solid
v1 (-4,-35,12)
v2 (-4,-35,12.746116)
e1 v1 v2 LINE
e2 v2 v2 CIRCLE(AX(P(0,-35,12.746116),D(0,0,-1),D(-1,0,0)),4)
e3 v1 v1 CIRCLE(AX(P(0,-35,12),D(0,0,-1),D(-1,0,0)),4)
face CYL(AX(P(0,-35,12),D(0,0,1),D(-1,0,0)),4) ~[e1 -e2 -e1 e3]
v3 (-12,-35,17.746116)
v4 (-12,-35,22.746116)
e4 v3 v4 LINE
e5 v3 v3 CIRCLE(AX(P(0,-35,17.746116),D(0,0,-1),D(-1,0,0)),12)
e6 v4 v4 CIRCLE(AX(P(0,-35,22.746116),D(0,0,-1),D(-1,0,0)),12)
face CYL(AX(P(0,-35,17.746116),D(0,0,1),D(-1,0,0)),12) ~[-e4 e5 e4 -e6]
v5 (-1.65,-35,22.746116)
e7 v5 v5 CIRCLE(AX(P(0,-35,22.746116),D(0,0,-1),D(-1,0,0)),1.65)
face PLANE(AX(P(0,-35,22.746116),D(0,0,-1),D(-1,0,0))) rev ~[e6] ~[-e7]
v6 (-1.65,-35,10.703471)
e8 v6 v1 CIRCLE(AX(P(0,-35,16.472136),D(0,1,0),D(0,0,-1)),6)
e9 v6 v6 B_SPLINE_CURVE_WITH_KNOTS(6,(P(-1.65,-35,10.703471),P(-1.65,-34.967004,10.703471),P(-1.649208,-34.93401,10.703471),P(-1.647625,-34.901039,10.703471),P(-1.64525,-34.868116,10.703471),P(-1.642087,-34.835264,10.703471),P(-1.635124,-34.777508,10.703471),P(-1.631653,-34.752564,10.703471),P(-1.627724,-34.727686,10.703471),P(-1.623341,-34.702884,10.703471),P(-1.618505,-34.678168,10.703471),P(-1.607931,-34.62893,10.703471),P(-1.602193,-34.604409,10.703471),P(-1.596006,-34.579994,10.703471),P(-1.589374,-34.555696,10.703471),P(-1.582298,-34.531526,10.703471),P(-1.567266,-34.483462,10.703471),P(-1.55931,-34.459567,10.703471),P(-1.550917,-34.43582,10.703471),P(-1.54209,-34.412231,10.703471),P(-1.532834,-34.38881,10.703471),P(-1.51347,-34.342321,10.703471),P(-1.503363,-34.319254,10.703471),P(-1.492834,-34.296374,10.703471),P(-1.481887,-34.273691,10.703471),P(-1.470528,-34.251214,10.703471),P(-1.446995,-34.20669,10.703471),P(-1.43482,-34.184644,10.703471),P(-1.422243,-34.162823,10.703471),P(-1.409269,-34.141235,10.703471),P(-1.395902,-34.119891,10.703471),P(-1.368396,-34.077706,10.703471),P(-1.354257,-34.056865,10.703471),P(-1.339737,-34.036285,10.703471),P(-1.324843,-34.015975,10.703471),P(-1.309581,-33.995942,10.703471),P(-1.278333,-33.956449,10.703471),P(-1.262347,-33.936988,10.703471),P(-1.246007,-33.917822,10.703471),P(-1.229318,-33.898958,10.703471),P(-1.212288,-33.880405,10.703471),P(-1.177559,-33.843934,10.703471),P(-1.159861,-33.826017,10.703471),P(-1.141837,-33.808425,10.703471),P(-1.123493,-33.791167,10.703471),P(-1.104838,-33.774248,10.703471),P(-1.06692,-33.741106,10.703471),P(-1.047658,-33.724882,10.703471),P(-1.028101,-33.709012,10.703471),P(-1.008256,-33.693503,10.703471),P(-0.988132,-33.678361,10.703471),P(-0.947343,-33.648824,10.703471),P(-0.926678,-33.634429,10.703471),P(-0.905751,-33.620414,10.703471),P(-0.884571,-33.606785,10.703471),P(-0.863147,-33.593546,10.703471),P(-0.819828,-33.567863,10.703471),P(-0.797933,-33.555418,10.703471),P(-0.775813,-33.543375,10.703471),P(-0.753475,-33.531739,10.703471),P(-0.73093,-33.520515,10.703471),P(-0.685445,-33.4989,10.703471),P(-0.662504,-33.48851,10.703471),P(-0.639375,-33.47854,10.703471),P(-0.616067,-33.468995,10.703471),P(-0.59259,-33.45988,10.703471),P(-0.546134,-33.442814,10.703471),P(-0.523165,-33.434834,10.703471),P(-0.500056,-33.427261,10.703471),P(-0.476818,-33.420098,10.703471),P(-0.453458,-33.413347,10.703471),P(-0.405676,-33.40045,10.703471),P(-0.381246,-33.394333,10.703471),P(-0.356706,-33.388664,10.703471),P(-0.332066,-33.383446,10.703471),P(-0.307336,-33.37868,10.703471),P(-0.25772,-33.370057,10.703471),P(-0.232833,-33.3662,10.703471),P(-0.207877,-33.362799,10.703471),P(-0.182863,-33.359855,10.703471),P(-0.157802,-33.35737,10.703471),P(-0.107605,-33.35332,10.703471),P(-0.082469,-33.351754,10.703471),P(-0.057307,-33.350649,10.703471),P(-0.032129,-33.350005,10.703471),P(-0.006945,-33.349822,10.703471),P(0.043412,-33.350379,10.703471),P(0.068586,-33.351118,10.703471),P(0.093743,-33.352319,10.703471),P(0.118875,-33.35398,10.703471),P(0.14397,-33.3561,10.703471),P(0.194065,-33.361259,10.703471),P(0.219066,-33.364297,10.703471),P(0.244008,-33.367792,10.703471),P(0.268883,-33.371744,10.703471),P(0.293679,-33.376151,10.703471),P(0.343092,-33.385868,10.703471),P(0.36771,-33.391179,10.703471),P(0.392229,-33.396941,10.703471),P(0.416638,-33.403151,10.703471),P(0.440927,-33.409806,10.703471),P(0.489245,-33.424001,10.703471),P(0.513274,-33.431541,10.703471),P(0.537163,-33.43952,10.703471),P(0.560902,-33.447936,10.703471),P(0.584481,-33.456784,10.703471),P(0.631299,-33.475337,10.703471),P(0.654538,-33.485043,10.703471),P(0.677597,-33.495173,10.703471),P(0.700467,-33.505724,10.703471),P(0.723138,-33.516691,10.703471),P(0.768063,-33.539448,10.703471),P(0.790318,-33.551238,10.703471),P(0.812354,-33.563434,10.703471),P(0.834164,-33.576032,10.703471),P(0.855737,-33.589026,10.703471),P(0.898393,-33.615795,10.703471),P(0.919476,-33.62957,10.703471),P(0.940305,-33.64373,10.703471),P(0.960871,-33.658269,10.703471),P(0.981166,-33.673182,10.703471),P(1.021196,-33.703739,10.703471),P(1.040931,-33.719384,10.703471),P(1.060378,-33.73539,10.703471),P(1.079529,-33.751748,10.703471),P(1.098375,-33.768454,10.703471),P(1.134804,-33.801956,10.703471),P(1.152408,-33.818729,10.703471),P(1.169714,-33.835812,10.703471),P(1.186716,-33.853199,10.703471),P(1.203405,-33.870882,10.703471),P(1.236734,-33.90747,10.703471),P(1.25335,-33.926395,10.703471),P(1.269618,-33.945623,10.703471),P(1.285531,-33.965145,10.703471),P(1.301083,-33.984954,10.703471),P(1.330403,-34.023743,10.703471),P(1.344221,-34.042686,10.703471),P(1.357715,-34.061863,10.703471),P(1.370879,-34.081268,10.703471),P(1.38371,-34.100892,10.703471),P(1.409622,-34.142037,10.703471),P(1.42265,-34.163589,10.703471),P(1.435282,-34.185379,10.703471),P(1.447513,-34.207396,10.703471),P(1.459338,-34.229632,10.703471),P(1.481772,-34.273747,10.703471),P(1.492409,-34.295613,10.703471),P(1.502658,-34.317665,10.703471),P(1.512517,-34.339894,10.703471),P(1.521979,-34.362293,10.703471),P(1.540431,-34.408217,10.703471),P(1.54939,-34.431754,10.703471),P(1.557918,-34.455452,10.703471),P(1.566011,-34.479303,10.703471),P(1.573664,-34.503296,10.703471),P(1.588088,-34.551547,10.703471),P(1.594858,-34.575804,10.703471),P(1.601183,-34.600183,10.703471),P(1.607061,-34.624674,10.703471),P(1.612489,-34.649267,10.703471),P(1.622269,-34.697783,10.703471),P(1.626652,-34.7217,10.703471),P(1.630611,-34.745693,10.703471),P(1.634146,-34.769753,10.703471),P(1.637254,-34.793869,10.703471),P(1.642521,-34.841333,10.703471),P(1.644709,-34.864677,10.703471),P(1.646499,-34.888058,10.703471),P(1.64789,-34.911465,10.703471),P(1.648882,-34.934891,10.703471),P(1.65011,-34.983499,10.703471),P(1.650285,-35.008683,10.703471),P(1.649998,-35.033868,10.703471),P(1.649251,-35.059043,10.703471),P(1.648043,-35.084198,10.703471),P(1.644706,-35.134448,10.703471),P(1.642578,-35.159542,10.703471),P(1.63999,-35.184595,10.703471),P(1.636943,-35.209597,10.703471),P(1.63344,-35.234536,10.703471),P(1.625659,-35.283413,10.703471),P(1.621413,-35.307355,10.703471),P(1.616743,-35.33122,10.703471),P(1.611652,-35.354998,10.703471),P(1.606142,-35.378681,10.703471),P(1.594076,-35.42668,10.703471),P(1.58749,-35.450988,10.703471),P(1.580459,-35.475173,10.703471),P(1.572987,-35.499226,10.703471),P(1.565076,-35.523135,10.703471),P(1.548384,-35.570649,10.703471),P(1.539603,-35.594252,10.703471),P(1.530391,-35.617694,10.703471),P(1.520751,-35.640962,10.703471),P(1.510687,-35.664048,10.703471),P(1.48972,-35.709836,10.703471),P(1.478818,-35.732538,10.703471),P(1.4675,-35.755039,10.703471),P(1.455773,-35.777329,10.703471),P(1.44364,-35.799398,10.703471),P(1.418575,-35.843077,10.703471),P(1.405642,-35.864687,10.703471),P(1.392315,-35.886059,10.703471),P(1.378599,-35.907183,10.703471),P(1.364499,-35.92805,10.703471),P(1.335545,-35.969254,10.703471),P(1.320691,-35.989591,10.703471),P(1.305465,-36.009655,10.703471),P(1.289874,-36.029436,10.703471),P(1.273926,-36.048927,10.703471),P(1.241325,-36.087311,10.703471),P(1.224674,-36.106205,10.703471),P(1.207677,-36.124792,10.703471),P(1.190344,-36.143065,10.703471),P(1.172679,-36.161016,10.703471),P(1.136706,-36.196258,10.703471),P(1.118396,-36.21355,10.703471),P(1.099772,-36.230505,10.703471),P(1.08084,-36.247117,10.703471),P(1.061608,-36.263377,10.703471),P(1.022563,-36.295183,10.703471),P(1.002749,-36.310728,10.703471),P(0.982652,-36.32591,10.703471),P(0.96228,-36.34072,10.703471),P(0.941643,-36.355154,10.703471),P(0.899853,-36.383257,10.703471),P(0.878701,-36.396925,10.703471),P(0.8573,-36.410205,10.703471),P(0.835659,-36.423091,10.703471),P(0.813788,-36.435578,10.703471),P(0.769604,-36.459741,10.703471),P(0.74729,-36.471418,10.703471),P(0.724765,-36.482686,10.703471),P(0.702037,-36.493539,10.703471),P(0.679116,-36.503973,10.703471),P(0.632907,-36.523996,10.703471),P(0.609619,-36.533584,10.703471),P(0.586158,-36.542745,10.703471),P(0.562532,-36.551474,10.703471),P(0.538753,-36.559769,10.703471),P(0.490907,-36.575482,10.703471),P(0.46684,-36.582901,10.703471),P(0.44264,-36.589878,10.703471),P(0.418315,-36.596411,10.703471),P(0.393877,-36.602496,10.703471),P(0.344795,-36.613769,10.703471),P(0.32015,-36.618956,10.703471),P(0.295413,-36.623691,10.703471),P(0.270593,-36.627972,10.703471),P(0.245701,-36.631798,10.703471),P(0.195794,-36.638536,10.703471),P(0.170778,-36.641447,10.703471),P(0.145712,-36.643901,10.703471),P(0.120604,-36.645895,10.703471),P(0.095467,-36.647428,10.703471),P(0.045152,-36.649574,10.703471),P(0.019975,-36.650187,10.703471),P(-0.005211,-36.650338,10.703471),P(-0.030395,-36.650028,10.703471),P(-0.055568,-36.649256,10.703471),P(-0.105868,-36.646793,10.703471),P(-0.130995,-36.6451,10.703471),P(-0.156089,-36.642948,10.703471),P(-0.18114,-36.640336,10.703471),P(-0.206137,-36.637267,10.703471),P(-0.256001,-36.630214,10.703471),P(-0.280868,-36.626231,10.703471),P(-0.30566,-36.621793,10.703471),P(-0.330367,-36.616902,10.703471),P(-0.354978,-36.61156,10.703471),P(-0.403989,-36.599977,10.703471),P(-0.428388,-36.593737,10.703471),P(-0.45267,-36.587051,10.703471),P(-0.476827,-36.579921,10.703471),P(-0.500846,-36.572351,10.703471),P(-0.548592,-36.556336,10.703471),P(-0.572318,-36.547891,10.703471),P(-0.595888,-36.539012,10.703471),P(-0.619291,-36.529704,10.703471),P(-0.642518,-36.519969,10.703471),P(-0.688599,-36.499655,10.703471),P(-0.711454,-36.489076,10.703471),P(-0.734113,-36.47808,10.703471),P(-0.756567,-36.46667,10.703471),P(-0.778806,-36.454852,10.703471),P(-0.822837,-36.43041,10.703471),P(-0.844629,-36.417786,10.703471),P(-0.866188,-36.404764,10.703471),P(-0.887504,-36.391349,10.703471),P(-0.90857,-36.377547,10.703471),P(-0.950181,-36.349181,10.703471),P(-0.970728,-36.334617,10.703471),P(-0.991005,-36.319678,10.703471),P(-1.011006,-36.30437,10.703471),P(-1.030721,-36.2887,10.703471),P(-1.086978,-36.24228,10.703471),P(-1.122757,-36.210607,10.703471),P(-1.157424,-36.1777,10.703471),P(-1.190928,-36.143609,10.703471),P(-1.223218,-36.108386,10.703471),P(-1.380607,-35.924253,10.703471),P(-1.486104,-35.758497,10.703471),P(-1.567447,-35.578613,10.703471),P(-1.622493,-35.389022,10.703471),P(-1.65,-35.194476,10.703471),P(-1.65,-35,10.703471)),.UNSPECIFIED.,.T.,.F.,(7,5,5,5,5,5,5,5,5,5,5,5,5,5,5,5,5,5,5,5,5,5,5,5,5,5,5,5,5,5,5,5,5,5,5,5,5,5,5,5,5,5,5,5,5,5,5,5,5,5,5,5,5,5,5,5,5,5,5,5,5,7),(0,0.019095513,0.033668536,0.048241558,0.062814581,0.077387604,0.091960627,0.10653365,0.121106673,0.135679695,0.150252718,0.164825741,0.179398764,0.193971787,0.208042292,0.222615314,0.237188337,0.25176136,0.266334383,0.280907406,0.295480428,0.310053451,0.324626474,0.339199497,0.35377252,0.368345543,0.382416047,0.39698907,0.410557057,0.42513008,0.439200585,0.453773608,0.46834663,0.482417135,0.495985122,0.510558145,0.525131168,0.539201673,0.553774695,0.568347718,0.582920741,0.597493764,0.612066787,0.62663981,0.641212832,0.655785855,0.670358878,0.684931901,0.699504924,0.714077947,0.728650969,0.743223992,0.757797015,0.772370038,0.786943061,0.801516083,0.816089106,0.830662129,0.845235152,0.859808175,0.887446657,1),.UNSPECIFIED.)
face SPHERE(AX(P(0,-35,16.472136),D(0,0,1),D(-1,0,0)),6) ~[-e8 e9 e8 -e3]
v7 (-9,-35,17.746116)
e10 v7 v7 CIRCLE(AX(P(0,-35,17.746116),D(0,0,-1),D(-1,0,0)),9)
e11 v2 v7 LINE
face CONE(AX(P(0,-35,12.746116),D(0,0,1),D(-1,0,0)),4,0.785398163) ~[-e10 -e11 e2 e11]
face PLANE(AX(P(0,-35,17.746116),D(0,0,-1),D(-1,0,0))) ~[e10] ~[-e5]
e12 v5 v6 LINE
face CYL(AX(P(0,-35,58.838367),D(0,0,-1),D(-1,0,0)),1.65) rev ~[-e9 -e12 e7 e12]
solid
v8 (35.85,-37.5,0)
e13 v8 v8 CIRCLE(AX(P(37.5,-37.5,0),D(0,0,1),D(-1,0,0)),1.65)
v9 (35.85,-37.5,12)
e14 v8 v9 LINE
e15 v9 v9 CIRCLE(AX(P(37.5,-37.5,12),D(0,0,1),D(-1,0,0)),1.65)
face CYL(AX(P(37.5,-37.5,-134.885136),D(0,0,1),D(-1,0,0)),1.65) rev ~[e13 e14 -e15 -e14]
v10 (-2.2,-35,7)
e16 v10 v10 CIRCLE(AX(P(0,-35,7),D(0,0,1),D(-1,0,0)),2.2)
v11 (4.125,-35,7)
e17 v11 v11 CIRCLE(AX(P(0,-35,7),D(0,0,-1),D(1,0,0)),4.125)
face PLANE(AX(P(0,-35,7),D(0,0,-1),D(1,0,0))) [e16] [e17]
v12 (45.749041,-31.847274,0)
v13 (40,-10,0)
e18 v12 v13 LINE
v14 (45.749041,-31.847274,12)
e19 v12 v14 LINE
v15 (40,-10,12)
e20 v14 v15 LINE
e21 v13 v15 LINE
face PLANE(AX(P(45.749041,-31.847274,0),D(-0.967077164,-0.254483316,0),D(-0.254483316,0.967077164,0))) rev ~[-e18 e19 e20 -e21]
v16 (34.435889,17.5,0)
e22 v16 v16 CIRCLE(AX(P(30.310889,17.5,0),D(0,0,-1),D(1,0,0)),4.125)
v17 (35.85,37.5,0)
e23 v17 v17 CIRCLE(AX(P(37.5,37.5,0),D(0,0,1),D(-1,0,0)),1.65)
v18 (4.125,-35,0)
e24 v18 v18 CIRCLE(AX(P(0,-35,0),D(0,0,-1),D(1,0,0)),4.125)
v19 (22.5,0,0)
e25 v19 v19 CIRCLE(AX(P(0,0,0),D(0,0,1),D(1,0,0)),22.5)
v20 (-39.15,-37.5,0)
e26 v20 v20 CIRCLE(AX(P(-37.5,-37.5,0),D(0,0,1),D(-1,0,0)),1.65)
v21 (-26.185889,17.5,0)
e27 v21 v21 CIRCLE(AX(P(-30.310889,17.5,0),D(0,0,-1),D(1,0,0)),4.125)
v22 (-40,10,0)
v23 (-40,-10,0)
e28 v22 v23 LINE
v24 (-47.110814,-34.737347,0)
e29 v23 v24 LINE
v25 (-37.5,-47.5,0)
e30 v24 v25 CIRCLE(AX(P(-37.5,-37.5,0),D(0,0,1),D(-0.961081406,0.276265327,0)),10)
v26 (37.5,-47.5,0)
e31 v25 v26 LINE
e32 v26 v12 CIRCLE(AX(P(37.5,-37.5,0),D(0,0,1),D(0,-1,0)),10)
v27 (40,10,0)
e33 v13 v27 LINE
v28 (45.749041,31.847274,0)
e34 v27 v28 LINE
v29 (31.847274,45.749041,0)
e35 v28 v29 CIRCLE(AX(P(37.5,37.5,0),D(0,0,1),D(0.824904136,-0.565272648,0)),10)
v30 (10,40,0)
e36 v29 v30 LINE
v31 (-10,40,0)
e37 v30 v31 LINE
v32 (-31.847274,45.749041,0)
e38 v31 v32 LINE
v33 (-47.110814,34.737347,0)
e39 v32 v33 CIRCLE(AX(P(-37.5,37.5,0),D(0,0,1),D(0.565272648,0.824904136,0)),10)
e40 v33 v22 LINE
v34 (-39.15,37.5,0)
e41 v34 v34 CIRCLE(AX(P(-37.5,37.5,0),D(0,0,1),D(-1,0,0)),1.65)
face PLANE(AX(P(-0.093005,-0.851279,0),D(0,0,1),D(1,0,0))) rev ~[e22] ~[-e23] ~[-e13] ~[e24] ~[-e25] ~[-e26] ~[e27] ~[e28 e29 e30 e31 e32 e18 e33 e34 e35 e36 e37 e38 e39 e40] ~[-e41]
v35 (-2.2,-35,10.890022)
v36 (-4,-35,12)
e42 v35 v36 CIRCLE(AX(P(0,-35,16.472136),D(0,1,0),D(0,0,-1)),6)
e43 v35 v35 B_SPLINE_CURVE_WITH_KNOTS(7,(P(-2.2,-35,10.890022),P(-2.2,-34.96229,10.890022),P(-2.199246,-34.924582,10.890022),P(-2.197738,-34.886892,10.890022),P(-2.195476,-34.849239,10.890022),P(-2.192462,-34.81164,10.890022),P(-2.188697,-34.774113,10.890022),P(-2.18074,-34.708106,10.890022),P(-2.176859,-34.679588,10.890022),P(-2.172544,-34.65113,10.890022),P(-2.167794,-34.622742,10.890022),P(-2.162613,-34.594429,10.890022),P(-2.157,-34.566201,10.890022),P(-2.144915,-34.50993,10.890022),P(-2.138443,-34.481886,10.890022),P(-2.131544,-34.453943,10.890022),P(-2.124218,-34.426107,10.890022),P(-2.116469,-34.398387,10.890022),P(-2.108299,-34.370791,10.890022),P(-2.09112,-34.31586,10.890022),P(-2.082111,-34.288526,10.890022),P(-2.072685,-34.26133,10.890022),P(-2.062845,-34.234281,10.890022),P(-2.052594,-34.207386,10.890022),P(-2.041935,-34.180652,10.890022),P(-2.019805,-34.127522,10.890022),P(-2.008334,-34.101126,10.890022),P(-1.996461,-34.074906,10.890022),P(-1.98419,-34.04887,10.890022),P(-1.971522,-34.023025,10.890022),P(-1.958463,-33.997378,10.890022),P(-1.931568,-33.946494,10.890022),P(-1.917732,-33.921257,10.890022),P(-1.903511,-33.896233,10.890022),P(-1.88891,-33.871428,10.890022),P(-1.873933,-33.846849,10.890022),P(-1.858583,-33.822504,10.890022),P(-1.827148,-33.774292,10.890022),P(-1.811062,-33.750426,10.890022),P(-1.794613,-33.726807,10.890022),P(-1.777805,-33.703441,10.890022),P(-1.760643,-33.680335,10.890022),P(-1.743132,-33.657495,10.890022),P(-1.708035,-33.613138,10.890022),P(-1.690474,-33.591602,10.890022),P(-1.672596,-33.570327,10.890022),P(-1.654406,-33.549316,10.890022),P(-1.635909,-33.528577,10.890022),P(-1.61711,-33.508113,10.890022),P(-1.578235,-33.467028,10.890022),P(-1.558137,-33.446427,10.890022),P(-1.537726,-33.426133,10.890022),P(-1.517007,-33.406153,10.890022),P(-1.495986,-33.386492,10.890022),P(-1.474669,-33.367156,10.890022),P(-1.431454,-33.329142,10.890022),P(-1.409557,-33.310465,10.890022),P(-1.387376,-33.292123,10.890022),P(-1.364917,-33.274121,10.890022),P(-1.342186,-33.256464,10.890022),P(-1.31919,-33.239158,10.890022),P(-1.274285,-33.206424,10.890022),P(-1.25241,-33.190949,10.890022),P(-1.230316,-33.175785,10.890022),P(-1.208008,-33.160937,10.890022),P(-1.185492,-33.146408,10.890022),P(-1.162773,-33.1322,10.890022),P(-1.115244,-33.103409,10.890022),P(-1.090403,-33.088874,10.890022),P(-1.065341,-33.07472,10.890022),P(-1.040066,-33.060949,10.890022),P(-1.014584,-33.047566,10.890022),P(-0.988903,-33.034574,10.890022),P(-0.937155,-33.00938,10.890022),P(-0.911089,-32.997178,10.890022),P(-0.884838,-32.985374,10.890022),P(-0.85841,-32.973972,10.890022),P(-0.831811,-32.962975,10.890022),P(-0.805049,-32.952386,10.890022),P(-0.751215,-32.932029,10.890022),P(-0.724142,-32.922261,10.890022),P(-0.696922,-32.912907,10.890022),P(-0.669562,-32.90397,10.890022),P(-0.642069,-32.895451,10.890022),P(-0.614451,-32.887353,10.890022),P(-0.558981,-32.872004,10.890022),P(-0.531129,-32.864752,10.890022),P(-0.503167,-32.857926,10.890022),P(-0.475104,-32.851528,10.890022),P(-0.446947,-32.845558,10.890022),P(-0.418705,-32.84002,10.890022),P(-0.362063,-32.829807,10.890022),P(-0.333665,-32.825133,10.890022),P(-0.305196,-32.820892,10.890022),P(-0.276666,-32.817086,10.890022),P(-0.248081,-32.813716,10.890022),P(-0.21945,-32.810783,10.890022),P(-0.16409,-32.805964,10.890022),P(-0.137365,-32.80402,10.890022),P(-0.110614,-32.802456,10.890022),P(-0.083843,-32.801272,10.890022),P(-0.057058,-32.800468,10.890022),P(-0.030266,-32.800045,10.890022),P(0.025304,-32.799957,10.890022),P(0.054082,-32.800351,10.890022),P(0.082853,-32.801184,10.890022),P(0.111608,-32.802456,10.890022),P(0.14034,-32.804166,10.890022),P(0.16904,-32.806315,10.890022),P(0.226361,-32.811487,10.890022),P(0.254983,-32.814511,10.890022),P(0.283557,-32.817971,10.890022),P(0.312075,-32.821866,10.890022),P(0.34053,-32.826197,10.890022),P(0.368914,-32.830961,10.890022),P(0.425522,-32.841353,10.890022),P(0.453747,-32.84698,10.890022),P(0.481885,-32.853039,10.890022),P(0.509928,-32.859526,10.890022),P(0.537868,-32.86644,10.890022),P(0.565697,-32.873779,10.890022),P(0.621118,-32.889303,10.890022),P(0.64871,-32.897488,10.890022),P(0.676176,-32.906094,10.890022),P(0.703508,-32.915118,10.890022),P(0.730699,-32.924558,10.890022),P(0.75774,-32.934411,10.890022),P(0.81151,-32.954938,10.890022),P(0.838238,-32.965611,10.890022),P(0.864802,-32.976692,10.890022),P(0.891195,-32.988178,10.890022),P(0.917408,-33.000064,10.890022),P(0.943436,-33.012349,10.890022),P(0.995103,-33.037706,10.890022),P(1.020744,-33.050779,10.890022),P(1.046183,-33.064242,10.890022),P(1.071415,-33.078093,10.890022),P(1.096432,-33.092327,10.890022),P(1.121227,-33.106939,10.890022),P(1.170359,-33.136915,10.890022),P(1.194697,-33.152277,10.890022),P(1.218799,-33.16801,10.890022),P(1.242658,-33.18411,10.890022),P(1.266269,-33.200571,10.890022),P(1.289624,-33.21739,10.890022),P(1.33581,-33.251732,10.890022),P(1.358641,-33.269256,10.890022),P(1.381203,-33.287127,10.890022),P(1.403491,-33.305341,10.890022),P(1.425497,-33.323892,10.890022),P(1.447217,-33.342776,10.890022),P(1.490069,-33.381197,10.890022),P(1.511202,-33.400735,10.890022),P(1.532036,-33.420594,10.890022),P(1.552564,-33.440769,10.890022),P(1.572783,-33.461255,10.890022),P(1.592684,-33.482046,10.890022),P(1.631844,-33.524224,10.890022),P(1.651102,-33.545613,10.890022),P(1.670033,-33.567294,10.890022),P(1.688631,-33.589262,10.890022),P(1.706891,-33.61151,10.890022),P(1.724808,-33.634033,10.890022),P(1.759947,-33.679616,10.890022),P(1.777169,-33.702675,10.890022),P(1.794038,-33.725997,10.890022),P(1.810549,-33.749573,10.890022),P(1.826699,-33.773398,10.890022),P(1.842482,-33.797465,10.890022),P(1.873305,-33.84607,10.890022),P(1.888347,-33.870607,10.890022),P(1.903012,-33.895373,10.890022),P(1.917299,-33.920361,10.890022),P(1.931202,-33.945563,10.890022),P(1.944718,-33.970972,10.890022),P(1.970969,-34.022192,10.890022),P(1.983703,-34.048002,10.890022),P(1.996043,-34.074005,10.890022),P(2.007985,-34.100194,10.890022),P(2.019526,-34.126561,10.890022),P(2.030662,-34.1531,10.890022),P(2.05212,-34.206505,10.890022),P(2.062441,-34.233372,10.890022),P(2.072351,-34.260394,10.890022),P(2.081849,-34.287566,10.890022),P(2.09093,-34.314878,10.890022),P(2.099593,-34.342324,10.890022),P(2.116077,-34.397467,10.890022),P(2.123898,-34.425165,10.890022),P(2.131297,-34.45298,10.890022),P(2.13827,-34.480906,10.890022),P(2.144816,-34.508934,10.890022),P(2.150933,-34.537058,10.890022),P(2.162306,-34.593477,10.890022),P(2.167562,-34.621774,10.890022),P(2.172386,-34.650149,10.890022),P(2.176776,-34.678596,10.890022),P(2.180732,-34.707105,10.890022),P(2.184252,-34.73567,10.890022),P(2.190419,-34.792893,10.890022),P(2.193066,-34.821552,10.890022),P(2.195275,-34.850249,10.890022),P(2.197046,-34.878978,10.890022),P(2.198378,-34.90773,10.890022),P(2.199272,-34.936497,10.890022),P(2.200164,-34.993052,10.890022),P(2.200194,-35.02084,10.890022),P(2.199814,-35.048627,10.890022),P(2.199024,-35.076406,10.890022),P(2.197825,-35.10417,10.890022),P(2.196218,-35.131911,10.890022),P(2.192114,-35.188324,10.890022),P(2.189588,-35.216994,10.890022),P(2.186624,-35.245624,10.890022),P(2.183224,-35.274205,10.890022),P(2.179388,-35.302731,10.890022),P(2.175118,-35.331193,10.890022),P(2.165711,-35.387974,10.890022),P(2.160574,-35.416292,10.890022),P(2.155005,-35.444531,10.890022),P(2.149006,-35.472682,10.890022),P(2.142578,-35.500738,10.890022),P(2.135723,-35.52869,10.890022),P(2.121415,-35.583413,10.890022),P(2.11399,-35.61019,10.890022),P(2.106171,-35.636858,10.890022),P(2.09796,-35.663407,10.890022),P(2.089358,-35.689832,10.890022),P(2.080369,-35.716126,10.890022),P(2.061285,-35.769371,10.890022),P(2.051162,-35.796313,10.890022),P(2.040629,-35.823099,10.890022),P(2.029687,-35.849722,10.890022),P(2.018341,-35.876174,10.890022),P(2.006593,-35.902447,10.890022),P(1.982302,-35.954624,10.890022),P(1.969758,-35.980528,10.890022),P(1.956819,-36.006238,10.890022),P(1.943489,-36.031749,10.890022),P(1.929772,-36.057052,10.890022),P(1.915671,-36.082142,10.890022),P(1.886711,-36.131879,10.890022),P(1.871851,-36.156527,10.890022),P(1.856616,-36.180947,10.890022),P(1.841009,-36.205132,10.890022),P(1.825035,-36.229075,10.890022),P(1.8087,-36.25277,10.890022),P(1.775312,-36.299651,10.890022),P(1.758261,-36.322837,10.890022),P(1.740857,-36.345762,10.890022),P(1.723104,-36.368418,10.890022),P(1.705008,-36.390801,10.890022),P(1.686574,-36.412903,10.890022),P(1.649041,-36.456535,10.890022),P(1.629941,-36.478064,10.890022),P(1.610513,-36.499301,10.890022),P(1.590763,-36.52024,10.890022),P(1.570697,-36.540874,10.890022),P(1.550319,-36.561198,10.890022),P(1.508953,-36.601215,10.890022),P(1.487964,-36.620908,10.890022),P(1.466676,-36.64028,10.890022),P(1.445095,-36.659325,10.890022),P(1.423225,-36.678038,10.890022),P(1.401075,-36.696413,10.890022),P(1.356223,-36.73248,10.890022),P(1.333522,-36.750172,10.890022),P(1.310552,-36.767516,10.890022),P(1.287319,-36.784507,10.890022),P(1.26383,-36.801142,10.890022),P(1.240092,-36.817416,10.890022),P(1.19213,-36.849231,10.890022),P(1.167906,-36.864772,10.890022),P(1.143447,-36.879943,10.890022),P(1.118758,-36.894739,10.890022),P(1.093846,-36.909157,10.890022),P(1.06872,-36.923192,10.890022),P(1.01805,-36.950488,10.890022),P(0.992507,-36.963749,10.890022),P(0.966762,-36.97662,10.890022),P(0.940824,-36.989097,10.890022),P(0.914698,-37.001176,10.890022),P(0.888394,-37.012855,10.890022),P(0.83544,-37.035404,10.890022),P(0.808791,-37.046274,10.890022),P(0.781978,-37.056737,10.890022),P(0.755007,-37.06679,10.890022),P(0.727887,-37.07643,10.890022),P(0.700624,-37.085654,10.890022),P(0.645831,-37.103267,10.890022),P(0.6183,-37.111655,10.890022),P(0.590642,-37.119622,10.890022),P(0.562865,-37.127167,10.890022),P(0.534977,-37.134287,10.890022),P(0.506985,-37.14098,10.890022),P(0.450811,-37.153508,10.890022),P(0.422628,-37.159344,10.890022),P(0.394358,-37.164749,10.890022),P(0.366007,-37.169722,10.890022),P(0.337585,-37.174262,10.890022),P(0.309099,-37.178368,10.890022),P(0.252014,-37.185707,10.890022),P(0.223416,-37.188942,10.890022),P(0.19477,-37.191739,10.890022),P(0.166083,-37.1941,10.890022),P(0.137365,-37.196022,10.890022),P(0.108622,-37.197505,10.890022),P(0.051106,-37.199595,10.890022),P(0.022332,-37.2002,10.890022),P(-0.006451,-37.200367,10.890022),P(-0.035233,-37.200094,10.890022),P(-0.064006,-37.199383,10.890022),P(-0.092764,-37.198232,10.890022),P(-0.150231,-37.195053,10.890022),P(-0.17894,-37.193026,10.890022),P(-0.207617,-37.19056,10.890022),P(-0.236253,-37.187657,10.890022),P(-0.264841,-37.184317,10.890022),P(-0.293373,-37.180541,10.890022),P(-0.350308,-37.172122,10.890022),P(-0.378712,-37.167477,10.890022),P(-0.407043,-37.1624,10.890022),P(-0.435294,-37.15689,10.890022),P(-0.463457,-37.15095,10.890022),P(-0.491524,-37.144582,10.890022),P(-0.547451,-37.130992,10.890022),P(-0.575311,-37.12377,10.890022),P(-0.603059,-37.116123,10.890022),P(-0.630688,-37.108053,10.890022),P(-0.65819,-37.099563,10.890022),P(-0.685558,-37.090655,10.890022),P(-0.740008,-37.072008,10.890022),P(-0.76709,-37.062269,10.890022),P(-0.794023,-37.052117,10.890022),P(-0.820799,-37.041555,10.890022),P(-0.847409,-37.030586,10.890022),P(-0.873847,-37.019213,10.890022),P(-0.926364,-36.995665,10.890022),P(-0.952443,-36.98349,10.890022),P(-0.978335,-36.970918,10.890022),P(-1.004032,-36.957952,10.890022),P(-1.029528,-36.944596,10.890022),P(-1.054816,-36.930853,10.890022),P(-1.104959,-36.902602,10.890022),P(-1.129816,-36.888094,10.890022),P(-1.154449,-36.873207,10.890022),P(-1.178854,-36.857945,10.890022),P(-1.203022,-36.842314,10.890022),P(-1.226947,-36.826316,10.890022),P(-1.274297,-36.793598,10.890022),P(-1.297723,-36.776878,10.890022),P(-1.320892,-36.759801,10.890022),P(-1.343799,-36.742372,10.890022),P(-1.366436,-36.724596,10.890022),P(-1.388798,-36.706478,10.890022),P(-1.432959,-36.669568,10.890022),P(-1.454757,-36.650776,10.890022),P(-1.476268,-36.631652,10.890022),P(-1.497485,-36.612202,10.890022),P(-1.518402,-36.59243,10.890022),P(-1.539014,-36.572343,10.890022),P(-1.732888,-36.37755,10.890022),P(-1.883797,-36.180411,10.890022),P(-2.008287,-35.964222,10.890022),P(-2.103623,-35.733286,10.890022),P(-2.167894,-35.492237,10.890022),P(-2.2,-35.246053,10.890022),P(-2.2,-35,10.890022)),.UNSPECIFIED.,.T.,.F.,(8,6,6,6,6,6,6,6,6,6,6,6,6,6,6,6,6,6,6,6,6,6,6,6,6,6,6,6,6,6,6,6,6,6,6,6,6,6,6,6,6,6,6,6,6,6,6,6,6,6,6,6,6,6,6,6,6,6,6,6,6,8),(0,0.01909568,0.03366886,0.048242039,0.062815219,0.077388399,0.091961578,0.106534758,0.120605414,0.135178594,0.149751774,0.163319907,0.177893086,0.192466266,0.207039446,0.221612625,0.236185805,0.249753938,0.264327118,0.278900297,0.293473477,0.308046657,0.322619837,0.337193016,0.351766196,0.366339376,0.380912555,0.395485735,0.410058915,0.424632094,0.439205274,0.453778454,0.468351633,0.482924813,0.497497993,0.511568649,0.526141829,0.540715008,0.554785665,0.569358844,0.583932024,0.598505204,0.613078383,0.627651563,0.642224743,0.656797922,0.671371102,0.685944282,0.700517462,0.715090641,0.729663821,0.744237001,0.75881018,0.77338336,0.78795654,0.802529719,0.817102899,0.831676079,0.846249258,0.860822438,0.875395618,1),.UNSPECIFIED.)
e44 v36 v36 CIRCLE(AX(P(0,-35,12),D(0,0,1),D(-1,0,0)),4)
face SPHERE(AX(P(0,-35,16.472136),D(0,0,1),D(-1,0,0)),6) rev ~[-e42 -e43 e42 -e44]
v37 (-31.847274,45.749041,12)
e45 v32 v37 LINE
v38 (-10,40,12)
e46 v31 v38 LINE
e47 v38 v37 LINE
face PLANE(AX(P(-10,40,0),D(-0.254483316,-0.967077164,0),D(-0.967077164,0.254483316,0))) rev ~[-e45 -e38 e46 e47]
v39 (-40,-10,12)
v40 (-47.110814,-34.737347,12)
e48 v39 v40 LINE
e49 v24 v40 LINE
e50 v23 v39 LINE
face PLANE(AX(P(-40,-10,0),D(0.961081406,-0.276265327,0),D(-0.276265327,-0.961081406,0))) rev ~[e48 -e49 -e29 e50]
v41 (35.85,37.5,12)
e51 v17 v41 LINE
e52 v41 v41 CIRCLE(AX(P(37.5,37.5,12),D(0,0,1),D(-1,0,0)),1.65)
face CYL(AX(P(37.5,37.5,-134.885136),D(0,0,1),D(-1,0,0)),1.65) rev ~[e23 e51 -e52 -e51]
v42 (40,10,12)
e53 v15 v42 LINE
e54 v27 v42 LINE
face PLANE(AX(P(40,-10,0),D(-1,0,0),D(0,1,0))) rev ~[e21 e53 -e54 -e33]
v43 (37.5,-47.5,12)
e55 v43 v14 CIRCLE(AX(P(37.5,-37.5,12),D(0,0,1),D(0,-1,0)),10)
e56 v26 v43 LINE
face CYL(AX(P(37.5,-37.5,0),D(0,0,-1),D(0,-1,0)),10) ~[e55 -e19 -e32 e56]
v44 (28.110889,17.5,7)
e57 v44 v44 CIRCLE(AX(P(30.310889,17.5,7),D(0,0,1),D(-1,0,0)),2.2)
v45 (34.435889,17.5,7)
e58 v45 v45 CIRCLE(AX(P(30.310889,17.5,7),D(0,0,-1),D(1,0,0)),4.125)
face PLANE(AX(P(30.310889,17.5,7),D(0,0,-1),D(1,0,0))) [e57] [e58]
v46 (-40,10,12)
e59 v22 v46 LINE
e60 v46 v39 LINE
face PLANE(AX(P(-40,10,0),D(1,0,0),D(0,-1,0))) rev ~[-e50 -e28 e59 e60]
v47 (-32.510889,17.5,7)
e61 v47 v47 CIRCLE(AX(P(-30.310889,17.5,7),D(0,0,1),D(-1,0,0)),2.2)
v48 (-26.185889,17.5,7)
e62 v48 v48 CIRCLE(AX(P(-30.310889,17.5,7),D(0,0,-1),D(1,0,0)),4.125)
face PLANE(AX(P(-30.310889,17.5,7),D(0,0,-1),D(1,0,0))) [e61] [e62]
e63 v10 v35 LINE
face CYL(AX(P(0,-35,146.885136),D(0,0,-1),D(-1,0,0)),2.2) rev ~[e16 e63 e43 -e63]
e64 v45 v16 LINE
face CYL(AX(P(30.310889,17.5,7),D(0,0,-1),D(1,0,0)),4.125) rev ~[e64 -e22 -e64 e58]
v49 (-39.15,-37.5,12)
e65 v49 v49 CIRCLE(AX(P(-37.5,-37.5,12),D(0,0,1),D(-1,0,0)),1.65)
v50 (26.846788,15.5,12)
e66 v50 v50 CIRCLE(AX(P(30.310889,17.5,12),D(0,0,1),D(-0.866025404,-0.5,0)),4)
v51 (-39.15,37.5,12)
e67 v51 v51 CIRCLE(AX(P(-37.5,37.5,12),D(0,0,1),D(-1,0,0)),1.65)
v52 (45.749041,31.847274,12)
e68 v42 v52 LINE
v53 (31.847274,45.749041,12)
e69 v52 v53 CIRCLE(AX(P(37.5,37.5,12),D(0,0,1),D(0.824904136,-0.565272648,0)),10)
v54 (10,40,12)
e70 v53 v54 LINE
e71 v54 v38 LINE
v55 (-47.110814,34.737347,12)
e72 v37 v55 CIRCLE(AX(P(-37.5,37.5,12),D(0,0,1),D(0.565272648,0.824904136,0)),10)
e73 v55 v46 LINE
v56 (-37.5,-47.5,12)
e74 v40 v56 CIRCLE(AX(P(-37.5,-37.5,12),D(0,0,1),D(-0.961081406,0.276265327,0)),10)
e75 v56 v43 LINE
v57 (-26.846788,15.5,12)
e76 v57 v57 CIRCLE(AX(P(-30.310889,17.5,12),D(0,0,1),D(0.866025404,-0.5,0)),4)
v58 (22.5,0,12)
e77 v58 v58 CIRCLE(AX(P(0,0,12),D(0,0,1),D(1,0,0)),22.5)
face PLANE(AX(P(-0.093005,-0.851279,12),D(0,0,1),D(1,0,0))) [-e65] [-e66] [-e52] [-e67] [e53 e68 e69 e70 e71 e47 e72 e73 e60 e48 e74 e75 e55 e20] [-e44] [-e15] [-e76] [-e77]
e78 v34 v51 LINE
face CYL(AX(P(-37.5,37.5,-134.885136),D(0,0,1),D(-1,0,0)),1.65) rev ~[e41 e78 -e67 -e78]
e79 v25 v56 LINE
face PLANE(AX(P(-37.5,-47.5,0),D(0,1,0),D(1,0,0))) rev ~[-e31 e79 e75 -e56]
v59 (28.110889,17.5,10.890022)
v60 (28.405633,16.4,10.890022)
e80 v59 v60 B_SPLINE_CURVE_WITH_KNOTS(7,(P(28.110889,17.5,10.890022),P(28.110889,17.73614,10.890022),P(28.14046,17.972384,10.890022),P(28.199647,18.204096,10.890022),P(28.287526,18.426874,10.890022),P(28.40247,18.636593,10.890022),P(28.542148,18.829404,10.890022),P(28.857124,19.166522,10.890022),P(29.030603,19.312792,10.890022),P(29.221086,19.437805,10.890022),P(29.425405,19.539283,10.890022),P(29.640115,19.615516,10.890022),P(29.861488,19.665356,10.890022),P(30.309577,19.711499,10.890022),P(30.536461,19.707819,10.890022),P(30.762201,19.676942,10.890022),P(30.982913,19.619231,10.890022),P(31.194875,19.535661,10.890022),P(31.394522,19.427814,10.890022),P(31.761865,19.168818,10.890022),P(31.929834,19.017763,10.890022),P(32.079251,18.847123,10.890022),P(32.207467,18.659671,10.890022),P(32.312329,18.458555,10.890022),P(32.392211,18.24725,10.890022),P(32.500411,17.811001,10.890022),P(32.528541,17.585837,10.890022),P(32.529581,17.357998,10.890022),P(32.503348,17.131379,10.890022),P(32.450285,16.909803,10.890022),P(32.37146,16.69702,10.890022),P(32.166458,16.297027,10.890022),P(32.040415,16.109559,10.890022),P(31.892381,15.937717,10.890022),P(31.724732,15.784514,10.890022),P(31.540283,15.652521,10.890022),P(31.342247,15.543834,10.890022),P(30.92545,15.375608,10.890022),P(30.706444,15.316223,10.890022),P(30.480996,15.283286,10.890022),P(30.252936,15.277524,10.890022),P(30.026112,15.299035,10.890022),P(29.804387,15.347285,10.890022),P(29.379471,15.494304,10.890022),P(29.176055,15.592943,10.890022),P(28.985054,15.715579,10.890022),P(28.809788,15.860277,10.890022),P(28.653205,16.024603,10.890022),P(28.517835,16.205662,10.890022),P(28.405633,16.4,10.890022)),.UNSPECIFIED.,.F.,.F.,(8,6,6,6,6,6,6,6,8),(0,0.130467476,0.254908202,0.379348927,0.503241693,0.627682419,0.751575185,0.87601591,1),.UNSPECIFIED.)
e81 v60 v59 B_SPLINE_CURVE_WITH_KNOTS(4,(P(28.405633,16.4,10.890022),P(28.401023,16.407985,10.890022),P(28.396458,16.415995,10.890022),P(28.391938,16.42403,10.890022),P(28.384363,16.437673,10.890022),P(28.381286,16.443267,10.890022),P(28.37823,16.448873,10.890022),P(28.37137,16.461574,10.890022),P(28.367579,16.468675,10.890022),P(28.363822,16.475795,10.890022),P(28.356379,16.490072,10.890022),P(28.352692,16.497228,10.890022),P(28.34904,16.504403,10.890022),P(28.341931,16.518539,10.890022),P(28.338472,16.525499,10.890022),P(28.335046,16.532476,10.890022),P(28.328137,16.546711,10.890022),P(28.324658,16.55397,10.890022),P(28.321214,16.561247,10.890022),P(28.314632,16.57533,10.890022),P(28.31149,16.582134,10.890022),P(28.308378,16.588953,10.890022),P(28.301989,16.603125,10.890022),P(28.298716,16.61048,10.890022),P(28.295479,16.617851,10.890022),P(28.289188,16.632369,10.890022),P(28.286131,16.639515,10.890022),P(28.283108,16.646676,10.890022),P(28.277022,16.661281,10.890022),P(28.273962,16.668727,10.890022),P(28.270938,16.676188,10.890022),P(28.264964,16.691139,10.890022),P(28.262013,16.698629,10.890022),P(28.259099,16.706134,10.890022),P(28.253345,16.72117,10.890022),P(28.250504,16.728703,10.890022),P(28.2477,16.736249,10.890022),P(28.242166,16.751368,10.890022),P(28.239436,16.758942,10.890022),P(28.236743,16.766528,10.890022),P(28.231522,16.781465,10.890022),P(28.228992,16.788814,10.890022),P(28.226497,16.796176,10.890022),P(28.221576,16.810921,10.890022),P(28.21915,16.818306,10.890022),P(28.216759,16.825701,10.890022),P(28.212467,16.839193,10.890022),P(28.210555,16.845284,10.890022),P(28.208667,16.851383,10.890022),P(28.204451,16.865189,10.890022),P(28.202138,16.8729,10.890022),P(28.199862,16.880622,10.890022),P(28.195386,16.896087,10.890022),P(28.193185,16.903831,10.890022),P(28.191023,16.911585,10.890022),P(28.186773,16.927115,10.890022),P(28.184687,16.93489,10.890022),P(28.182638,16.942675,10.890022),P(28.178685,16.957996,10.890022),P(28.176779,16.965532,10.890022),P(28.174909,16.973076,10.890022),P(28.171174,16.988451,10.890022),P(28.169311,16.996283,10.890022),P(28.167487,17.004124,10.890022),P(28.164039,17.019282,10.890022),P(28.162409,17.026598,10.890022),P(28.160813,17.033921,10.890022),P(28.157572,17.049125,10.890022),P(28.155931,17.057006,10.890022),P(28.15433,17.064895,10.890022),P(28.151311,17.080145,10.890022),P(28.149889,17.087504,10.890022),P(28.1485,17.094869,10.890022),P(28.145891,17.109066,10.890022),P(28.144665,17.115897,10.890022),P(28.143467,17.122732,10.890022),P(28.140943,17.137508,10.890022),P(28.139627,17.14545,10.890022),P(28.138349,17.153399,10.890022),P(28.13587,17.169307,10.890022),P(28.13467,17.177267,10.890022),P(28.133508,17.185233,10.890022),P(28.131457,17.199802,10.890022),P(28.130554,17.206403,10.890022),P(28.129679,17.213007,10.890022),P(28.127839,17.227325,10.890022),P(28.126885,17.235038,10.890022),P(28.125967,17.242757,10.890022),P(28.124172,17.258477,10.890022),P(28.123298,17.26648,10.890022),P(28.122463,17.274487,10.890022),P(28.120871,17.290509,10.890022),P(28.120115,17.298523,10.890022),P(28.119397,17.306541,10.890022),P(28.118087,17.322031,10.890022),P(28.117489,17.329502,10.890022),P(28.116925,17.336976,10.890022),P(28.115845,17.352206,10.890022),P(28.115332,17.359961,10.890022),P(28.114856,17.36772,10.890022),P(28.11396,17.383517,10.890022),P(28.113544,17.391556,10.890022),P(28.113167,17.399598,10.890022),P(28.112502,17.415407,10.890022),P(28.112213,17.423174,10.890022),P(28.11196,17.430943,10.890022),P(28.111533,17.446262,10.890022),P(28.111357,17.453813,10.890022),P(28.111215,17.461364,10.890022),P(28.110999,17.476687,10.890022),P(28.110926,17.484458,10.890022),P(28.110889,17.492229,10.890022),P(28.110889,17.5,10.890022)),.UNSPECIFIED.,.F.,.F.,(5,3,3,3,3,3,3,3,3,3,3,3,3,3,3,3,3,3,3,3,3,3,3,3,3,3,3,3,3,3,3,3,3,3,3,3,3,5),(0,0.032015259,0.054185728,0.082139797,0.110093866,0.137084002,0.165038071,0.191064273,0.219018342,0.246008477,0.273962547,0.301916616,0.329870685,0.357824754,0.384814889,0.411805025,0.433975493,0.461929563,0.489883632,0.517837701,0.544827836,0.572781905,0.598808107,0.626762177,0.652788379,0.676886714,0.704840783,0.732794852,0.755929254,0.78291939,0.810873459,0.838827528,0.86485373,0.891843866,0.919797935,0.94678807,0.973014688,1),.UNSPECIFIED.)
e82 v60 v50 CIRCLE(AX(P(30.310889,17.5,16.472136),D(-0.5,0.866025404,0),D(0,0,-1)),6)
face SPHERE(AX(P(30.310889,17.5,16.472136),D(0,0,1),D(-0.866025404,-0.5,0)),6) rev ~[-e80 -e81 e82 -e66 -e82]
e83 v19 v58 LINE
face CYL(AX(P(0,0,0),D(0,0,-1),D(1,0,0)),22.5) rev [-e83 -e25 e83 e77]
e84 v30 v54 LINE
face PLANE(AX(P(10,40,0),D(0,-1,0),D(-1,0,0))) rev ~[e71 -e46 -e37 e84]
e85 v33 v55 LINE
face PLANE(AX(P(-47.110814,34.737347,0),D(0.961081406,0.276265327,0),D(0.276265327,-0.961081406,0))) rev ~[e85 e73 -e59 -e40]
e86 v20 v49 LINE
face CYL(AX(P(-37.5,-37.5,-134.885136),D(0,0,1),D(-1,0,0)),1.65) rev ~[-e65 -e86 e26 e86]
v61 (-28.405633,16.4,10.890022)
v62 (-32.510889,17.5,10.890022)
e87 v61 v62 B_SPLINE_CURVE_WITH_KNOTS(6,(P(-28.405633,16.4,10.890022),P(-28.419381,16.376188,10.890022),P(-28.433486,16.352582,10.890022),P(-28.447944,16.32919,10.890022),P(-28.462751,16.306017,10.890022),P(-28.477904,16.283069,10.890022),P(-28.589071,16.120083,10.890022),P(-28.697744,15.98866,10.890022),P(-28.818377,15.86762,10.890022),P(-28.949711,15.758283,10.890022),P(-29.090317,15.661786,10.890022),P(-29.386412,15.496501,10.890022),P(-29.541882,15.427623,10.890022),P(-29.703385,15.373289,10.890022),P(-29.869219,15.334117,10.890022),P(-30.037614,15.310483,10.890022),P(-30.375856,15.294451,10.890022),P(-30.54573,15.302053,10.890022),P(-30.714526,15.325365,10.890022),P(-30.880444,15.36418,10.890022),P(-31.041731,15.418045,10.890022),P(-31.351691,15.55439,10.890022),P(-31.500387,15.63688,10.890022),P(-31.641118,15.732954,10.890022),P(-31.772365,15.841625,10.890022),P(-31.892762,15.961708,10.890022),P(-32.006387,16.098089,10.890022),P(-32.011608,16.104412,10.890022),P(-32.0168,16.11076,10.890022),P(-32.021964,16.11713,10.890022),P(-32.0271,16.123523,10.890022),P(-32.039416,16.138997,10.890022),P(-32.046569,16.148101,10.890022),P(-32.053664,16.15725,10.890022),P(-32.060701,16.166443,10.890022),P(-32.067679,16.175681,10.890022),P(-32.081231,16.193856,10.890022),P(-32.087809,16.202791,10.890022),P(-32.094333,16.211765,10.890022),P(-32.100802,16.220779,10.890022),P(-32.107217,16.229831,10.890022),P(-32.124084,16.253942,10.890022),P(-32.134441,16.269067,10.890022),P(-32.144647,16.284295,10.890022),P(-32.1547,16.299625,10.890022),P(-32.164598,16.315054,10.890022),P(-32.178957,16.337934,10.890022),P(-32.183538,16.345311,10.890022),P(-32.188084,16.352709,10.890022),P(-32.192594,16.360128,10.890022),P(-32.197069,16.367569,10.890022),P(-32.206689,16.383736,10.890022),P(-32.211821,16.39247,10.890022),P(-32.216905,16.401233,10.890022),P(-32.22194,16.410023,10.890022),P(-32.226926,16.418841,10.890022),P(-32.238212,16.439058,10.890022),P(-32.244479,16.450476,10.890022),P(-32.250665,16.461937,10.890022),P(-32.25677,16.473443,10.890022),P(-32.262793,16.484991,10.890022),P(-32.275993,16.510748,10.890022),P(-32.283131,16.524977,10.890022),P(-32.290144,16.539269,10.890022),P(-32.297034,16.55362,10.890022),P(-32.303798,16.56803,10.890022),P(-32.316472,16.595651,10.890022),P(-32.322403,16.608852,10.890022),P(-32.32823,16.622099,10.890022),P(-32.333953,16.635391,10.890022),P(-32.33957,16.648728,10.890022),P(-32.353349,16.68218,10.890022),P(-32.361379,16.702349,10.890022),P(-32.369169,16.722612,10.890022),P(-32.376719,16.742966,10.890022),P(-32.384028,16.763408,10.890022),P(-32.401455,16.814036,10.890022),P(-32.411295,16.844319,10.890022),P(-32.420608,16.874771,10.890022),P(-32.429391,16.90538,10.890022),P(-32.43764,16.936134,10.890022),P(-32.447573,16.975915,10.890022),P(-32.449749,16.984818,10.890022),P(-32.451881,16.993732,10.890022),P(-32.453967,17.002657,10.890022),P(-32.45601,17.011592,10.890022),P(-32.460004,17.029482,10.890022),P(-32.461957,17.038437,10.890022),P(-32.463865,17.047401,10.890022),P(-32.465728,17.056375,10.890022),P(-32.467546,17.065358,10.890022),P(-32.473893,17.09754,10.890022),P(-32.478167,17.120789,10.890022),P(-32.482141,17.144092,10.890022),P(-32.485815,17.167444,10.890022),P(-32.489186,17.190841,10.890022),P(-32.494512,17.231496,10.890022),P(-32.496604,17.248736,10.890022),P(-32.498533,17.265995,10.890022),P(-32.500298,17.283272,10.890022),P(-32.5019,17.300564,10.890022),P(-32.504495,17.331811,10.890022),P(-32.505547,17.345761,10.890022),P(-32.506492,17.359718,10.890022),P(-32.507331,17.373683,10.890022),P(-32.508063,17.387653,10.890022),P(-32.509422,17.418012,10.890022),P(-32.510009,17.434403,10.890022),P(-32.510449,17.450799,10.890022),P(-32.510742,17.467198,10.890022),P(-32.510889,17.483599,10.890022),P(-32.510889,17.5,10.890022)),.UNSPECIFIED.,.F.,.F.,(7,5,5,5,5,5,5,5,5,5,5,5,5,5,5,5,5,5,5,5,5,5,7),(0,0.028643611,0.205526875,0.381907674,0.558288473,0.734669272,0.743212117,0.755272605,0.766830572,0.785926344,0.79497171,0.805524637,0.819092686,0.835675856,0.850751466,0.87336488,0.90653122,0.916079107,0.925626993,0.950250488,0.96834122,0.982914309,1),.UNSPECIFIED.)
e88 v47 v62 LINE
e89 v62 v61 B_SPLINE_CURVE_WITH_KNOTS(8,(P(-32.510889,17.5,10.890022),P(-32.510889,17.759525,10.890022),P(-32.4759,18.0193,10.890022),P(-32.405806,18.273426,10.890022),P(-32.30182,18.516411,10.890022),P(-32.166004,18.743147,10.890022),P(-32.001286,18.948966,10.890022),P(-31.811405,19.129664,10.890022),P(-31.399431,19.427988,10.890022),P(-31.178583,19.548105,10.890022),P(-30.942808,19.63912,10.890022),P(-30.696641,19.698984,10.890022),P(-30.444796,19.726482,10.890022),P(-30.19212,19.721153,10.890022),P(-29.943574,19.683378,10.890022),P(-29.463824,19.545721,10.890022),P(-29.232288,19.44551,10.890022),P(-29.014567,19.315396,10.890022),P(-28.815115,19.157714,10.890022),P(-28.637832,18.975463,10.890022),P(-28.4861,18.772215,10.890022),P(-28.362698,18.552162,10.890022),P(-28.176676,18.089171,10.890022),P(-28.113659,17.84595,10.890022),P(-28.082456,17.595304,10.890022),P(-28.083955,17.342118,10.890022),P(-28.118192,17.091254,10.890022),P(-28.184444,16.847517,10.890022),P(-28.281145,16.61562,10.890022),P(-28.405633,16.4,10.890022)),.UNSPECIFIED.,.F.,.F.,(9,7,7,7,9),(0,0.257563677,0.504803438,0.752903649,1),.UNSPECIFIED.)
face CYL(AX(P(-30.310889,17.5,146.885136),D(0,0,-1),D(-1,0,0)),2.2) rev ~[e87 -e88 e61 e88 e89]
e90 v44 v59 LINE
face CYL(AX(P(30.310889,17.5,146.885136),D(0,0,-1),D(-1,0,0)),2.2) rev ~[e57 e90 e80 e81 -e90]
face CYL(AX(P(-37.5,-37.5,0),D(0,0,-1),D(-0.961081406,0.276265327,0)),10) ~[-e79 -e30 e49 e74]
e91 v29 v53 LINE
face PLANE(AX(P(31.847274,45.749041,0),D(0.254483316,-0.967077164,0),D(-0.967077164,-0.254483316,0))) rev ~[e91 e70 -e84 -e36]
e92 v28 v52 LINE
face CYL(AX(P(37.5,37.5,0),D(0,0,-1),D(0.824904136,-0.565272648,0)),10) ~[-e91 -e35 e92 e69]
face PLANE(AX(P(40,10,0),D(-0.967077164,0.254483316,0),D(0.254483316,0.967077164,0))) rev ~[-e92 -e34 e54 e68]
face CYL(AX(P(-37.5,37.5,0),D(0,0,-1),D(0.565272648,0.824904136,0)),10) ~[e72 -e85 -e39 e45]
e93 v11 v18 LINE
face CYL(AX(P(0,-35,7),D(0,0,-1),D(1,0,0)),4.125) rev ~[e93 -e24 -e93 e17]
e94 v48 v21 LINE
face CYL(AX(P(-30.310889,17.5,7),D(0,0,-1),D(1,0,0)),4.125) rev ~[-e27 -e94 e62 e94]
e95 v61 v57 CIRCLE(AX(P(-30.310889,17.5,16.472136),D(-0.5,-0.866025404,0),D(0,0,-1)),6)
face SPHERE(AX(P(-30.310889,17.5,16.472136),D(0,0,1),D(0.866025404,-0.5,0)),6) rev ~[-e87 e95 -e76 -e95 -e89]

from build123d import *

# Parameters (mm, degrees)
F1_DEPTH        = 12
F15_D           = 3.3
F16_D           = 4.4
F18_D           = 4.4
F18_DEPTH       = 7.1
F18_CBORE_D     = 8.25
F18_CBORE_DEPTH = 7
F18_TIP         = 1.3218933619
F19_D           = 3.3
F20_R           = 22.5
F21_DEPTH       = 12
F22_SIZE        = 5


with BuildPart() as f1:
    # F0 (on Top) → F1 (new body)
    with BuildSketch(Plane.XY):
        with BuildLine():
            Line((-10, 40), (-31.8472735229, 45.749041361))
            ThreePointArc((-31.8472735229, 45.749041361), (-43.3507237994, 45.6098107884), (-47.1108140615, 34.7373467329))
            Line((-47.1108140615, 34.7373467329), (-40, 10))
            Line((-40, 10), (-40, -10))
            Line((-40, -10), (-47.1108140615, -34.7373467329))
            ThreePointArc((-47.1108140615, -34.7373467329), (-45.4883206205, -43.5155410118), (-37.5, -47.5))
            Line((-37.5, -47.5), (37.5, -47.5))
            ThreePointArc((37.5, -47.5), (46.3466735209, -42.1622277523), (45.749041361, -31.8472735229))
            Line((45.749041361, -31.8472735229), (40, -10))
            Line((40, -10), (40, 10))
            Line((40, 10), (45.749041361, 31.8472735229))
            ThreePointArc((45.749041361, 31.8472735229), (44.5710678119, 44.5710678119), (31.8472735229, 45.749041361))
            Line((31.8472735229, 45.749041361), (10, 40))
            Line((10, 40), (-10, 40))
        make_face()
    extrude(amount=F1_DEPTH)

    # F4 (on plane+point) → F7 (revolve, cut)
    with BuildSketch(Plane(origin=(0, -35, 0), x_dir=(-1, 0, 0), z_dir=(0, 1, 0))):
        with BuildLine():
            ThreePointArc((0, 10.472135955), (2.1409325386, 10.8671018012), (4, 12))
            Line((4, 12), (0, 12))
            Line((0, 12), (0, 10.472135955))
        make_face()
    revolve(axis=Axis((0, -35, 26.2402286232), (0, 0, 1)), mode=Mode.SUBTRACT)

    # F6 (on line) → F8 (revolve, cut)
    with BuildSketch(Plane(origin=(0, 0, 0), x_dir=(0.8660254038, -0.5, 0), z_dir=(-0.5, -0.8660254038, 0))):
        with BuildLine():
            ThreePointArc((-35, 10.472135955), (-32.8590674614, 10.8671018012), (-31, 12))
            Line((-31, 12), (-35, 12))
            Line((-35, 12), (-35, 10.472135955))
        make_face()
    revolve(axis=Axis((-30.3108891325, 17.5, 26.2402286232), (0, 0, 1)), mode=Mode.SUBTRACT)

    # F10 (on line) → F11 (revolve, cut)
    with BuildSketch(Plane(origin=(0, 0, 0), x_dir=(-0.8660254038, -0.5, 0), z_dir=(-0.5, 0.8660254038, 0))):
        with BuildLine():
            ThreePointArc((-35, 10.472135955), (-32.8590674614, 10.8671018012), (-31, 12))
            Line((-31, 12), (-35, 12))
            Line((-35, 12), (-35, 10.472135955))
        make_face()
    revolve(axis=Axis((30.3108891325, 17.5, 26.2402286232), (0, 0, 1)), mode=Mode.SUBTRACT)

    # F16 (through all)
    with Locations(Plane.XY.offset(12)):
        with Locations((30.3108891325, 17.5), (-30.3108891325, 17.5), (0, -35)):
            Hole(F16_D / 2)

    # F18
    with Locations(Plane(origin=(0, 0, 0), x_dir=(1, 0, 0), z_dir=(0, 0, -1))):
        with Locations((-30.3108891325, -17.5), (0, 35), (30.3108891325, -17.5)):
            CounterBoreHole(F18_D / 2, F18_CBORE_D / 2, F18_CBORE_DEPTH, depth=F18_DEPTH)
            with Locations((0, 0, -(F18_DEPTH + F18_TIP / 2))):  # 118° drill point
                Cone(0, F18_D / 2, F18_TIP, mode=Mode.SUBTRACT)

    # F19 (through all)
    with Locations(Plane(origin=(0, 0, 0), x_dir=(1, 0, 0), z_dir=(0, 0, -1))):
        with Locations((-37.5, -37.5), (-37.5, 37.5), (37.5, 37.5), (37.5, -37.5)):
            Hole(F19_D / 2)

    # F20 (on face) → F21 (cut, through all)
    with BuildSketch(Plane.XY):
        Circle(F20_R)
    extrude(amount=F21_DEPTH, mode=Mode.SUBTRACT)


with BuildPart() as f13:
    # F12 (on plane+point) → F13 (revolve)
    with BuildSketch(Plane(origin=(0, -35, 0), x_dir=(-1, 0, 0), z_dir=(0, 1, 0))):
        with BuildLine():
            Line((0, 12), (0, 10.472135955))
            ThreePointArc((0, 10.472135955), (2.1409325386, 10.8671018012), (4, 12))
            Line((4, 12), (4, 17.7461159229))
            Line((4, 17.7461159229), (12, 17.7461159229))
            Line((12, 17.7461159229), (12, 22.7461159229))
            Line((12, 22.7461159229), (0, 22.7461159229))
            Line((0, 22.7461159229), (0, 16.472135955))
            Line((0, 16.472135955), (0, 12))
        make_face()
    revolve(axis=Axis((0, -35, 19.609125939), (0, 0, -1)))

    # F15 (through all)
    with Locations(Plane.XY.offset(22.7461159229)):
        with Locations((0, -35)):
            Hole(F15_D / 2)

    # F22
    f22_edges = [f13.edges().sort_by_distance(p)[0] for p in [
        (4, -35, 17.746116),
    ]]
    chamfer(f22_edges, length=F22_SIZE)


solid = Compound([f1.part, f13.part])
